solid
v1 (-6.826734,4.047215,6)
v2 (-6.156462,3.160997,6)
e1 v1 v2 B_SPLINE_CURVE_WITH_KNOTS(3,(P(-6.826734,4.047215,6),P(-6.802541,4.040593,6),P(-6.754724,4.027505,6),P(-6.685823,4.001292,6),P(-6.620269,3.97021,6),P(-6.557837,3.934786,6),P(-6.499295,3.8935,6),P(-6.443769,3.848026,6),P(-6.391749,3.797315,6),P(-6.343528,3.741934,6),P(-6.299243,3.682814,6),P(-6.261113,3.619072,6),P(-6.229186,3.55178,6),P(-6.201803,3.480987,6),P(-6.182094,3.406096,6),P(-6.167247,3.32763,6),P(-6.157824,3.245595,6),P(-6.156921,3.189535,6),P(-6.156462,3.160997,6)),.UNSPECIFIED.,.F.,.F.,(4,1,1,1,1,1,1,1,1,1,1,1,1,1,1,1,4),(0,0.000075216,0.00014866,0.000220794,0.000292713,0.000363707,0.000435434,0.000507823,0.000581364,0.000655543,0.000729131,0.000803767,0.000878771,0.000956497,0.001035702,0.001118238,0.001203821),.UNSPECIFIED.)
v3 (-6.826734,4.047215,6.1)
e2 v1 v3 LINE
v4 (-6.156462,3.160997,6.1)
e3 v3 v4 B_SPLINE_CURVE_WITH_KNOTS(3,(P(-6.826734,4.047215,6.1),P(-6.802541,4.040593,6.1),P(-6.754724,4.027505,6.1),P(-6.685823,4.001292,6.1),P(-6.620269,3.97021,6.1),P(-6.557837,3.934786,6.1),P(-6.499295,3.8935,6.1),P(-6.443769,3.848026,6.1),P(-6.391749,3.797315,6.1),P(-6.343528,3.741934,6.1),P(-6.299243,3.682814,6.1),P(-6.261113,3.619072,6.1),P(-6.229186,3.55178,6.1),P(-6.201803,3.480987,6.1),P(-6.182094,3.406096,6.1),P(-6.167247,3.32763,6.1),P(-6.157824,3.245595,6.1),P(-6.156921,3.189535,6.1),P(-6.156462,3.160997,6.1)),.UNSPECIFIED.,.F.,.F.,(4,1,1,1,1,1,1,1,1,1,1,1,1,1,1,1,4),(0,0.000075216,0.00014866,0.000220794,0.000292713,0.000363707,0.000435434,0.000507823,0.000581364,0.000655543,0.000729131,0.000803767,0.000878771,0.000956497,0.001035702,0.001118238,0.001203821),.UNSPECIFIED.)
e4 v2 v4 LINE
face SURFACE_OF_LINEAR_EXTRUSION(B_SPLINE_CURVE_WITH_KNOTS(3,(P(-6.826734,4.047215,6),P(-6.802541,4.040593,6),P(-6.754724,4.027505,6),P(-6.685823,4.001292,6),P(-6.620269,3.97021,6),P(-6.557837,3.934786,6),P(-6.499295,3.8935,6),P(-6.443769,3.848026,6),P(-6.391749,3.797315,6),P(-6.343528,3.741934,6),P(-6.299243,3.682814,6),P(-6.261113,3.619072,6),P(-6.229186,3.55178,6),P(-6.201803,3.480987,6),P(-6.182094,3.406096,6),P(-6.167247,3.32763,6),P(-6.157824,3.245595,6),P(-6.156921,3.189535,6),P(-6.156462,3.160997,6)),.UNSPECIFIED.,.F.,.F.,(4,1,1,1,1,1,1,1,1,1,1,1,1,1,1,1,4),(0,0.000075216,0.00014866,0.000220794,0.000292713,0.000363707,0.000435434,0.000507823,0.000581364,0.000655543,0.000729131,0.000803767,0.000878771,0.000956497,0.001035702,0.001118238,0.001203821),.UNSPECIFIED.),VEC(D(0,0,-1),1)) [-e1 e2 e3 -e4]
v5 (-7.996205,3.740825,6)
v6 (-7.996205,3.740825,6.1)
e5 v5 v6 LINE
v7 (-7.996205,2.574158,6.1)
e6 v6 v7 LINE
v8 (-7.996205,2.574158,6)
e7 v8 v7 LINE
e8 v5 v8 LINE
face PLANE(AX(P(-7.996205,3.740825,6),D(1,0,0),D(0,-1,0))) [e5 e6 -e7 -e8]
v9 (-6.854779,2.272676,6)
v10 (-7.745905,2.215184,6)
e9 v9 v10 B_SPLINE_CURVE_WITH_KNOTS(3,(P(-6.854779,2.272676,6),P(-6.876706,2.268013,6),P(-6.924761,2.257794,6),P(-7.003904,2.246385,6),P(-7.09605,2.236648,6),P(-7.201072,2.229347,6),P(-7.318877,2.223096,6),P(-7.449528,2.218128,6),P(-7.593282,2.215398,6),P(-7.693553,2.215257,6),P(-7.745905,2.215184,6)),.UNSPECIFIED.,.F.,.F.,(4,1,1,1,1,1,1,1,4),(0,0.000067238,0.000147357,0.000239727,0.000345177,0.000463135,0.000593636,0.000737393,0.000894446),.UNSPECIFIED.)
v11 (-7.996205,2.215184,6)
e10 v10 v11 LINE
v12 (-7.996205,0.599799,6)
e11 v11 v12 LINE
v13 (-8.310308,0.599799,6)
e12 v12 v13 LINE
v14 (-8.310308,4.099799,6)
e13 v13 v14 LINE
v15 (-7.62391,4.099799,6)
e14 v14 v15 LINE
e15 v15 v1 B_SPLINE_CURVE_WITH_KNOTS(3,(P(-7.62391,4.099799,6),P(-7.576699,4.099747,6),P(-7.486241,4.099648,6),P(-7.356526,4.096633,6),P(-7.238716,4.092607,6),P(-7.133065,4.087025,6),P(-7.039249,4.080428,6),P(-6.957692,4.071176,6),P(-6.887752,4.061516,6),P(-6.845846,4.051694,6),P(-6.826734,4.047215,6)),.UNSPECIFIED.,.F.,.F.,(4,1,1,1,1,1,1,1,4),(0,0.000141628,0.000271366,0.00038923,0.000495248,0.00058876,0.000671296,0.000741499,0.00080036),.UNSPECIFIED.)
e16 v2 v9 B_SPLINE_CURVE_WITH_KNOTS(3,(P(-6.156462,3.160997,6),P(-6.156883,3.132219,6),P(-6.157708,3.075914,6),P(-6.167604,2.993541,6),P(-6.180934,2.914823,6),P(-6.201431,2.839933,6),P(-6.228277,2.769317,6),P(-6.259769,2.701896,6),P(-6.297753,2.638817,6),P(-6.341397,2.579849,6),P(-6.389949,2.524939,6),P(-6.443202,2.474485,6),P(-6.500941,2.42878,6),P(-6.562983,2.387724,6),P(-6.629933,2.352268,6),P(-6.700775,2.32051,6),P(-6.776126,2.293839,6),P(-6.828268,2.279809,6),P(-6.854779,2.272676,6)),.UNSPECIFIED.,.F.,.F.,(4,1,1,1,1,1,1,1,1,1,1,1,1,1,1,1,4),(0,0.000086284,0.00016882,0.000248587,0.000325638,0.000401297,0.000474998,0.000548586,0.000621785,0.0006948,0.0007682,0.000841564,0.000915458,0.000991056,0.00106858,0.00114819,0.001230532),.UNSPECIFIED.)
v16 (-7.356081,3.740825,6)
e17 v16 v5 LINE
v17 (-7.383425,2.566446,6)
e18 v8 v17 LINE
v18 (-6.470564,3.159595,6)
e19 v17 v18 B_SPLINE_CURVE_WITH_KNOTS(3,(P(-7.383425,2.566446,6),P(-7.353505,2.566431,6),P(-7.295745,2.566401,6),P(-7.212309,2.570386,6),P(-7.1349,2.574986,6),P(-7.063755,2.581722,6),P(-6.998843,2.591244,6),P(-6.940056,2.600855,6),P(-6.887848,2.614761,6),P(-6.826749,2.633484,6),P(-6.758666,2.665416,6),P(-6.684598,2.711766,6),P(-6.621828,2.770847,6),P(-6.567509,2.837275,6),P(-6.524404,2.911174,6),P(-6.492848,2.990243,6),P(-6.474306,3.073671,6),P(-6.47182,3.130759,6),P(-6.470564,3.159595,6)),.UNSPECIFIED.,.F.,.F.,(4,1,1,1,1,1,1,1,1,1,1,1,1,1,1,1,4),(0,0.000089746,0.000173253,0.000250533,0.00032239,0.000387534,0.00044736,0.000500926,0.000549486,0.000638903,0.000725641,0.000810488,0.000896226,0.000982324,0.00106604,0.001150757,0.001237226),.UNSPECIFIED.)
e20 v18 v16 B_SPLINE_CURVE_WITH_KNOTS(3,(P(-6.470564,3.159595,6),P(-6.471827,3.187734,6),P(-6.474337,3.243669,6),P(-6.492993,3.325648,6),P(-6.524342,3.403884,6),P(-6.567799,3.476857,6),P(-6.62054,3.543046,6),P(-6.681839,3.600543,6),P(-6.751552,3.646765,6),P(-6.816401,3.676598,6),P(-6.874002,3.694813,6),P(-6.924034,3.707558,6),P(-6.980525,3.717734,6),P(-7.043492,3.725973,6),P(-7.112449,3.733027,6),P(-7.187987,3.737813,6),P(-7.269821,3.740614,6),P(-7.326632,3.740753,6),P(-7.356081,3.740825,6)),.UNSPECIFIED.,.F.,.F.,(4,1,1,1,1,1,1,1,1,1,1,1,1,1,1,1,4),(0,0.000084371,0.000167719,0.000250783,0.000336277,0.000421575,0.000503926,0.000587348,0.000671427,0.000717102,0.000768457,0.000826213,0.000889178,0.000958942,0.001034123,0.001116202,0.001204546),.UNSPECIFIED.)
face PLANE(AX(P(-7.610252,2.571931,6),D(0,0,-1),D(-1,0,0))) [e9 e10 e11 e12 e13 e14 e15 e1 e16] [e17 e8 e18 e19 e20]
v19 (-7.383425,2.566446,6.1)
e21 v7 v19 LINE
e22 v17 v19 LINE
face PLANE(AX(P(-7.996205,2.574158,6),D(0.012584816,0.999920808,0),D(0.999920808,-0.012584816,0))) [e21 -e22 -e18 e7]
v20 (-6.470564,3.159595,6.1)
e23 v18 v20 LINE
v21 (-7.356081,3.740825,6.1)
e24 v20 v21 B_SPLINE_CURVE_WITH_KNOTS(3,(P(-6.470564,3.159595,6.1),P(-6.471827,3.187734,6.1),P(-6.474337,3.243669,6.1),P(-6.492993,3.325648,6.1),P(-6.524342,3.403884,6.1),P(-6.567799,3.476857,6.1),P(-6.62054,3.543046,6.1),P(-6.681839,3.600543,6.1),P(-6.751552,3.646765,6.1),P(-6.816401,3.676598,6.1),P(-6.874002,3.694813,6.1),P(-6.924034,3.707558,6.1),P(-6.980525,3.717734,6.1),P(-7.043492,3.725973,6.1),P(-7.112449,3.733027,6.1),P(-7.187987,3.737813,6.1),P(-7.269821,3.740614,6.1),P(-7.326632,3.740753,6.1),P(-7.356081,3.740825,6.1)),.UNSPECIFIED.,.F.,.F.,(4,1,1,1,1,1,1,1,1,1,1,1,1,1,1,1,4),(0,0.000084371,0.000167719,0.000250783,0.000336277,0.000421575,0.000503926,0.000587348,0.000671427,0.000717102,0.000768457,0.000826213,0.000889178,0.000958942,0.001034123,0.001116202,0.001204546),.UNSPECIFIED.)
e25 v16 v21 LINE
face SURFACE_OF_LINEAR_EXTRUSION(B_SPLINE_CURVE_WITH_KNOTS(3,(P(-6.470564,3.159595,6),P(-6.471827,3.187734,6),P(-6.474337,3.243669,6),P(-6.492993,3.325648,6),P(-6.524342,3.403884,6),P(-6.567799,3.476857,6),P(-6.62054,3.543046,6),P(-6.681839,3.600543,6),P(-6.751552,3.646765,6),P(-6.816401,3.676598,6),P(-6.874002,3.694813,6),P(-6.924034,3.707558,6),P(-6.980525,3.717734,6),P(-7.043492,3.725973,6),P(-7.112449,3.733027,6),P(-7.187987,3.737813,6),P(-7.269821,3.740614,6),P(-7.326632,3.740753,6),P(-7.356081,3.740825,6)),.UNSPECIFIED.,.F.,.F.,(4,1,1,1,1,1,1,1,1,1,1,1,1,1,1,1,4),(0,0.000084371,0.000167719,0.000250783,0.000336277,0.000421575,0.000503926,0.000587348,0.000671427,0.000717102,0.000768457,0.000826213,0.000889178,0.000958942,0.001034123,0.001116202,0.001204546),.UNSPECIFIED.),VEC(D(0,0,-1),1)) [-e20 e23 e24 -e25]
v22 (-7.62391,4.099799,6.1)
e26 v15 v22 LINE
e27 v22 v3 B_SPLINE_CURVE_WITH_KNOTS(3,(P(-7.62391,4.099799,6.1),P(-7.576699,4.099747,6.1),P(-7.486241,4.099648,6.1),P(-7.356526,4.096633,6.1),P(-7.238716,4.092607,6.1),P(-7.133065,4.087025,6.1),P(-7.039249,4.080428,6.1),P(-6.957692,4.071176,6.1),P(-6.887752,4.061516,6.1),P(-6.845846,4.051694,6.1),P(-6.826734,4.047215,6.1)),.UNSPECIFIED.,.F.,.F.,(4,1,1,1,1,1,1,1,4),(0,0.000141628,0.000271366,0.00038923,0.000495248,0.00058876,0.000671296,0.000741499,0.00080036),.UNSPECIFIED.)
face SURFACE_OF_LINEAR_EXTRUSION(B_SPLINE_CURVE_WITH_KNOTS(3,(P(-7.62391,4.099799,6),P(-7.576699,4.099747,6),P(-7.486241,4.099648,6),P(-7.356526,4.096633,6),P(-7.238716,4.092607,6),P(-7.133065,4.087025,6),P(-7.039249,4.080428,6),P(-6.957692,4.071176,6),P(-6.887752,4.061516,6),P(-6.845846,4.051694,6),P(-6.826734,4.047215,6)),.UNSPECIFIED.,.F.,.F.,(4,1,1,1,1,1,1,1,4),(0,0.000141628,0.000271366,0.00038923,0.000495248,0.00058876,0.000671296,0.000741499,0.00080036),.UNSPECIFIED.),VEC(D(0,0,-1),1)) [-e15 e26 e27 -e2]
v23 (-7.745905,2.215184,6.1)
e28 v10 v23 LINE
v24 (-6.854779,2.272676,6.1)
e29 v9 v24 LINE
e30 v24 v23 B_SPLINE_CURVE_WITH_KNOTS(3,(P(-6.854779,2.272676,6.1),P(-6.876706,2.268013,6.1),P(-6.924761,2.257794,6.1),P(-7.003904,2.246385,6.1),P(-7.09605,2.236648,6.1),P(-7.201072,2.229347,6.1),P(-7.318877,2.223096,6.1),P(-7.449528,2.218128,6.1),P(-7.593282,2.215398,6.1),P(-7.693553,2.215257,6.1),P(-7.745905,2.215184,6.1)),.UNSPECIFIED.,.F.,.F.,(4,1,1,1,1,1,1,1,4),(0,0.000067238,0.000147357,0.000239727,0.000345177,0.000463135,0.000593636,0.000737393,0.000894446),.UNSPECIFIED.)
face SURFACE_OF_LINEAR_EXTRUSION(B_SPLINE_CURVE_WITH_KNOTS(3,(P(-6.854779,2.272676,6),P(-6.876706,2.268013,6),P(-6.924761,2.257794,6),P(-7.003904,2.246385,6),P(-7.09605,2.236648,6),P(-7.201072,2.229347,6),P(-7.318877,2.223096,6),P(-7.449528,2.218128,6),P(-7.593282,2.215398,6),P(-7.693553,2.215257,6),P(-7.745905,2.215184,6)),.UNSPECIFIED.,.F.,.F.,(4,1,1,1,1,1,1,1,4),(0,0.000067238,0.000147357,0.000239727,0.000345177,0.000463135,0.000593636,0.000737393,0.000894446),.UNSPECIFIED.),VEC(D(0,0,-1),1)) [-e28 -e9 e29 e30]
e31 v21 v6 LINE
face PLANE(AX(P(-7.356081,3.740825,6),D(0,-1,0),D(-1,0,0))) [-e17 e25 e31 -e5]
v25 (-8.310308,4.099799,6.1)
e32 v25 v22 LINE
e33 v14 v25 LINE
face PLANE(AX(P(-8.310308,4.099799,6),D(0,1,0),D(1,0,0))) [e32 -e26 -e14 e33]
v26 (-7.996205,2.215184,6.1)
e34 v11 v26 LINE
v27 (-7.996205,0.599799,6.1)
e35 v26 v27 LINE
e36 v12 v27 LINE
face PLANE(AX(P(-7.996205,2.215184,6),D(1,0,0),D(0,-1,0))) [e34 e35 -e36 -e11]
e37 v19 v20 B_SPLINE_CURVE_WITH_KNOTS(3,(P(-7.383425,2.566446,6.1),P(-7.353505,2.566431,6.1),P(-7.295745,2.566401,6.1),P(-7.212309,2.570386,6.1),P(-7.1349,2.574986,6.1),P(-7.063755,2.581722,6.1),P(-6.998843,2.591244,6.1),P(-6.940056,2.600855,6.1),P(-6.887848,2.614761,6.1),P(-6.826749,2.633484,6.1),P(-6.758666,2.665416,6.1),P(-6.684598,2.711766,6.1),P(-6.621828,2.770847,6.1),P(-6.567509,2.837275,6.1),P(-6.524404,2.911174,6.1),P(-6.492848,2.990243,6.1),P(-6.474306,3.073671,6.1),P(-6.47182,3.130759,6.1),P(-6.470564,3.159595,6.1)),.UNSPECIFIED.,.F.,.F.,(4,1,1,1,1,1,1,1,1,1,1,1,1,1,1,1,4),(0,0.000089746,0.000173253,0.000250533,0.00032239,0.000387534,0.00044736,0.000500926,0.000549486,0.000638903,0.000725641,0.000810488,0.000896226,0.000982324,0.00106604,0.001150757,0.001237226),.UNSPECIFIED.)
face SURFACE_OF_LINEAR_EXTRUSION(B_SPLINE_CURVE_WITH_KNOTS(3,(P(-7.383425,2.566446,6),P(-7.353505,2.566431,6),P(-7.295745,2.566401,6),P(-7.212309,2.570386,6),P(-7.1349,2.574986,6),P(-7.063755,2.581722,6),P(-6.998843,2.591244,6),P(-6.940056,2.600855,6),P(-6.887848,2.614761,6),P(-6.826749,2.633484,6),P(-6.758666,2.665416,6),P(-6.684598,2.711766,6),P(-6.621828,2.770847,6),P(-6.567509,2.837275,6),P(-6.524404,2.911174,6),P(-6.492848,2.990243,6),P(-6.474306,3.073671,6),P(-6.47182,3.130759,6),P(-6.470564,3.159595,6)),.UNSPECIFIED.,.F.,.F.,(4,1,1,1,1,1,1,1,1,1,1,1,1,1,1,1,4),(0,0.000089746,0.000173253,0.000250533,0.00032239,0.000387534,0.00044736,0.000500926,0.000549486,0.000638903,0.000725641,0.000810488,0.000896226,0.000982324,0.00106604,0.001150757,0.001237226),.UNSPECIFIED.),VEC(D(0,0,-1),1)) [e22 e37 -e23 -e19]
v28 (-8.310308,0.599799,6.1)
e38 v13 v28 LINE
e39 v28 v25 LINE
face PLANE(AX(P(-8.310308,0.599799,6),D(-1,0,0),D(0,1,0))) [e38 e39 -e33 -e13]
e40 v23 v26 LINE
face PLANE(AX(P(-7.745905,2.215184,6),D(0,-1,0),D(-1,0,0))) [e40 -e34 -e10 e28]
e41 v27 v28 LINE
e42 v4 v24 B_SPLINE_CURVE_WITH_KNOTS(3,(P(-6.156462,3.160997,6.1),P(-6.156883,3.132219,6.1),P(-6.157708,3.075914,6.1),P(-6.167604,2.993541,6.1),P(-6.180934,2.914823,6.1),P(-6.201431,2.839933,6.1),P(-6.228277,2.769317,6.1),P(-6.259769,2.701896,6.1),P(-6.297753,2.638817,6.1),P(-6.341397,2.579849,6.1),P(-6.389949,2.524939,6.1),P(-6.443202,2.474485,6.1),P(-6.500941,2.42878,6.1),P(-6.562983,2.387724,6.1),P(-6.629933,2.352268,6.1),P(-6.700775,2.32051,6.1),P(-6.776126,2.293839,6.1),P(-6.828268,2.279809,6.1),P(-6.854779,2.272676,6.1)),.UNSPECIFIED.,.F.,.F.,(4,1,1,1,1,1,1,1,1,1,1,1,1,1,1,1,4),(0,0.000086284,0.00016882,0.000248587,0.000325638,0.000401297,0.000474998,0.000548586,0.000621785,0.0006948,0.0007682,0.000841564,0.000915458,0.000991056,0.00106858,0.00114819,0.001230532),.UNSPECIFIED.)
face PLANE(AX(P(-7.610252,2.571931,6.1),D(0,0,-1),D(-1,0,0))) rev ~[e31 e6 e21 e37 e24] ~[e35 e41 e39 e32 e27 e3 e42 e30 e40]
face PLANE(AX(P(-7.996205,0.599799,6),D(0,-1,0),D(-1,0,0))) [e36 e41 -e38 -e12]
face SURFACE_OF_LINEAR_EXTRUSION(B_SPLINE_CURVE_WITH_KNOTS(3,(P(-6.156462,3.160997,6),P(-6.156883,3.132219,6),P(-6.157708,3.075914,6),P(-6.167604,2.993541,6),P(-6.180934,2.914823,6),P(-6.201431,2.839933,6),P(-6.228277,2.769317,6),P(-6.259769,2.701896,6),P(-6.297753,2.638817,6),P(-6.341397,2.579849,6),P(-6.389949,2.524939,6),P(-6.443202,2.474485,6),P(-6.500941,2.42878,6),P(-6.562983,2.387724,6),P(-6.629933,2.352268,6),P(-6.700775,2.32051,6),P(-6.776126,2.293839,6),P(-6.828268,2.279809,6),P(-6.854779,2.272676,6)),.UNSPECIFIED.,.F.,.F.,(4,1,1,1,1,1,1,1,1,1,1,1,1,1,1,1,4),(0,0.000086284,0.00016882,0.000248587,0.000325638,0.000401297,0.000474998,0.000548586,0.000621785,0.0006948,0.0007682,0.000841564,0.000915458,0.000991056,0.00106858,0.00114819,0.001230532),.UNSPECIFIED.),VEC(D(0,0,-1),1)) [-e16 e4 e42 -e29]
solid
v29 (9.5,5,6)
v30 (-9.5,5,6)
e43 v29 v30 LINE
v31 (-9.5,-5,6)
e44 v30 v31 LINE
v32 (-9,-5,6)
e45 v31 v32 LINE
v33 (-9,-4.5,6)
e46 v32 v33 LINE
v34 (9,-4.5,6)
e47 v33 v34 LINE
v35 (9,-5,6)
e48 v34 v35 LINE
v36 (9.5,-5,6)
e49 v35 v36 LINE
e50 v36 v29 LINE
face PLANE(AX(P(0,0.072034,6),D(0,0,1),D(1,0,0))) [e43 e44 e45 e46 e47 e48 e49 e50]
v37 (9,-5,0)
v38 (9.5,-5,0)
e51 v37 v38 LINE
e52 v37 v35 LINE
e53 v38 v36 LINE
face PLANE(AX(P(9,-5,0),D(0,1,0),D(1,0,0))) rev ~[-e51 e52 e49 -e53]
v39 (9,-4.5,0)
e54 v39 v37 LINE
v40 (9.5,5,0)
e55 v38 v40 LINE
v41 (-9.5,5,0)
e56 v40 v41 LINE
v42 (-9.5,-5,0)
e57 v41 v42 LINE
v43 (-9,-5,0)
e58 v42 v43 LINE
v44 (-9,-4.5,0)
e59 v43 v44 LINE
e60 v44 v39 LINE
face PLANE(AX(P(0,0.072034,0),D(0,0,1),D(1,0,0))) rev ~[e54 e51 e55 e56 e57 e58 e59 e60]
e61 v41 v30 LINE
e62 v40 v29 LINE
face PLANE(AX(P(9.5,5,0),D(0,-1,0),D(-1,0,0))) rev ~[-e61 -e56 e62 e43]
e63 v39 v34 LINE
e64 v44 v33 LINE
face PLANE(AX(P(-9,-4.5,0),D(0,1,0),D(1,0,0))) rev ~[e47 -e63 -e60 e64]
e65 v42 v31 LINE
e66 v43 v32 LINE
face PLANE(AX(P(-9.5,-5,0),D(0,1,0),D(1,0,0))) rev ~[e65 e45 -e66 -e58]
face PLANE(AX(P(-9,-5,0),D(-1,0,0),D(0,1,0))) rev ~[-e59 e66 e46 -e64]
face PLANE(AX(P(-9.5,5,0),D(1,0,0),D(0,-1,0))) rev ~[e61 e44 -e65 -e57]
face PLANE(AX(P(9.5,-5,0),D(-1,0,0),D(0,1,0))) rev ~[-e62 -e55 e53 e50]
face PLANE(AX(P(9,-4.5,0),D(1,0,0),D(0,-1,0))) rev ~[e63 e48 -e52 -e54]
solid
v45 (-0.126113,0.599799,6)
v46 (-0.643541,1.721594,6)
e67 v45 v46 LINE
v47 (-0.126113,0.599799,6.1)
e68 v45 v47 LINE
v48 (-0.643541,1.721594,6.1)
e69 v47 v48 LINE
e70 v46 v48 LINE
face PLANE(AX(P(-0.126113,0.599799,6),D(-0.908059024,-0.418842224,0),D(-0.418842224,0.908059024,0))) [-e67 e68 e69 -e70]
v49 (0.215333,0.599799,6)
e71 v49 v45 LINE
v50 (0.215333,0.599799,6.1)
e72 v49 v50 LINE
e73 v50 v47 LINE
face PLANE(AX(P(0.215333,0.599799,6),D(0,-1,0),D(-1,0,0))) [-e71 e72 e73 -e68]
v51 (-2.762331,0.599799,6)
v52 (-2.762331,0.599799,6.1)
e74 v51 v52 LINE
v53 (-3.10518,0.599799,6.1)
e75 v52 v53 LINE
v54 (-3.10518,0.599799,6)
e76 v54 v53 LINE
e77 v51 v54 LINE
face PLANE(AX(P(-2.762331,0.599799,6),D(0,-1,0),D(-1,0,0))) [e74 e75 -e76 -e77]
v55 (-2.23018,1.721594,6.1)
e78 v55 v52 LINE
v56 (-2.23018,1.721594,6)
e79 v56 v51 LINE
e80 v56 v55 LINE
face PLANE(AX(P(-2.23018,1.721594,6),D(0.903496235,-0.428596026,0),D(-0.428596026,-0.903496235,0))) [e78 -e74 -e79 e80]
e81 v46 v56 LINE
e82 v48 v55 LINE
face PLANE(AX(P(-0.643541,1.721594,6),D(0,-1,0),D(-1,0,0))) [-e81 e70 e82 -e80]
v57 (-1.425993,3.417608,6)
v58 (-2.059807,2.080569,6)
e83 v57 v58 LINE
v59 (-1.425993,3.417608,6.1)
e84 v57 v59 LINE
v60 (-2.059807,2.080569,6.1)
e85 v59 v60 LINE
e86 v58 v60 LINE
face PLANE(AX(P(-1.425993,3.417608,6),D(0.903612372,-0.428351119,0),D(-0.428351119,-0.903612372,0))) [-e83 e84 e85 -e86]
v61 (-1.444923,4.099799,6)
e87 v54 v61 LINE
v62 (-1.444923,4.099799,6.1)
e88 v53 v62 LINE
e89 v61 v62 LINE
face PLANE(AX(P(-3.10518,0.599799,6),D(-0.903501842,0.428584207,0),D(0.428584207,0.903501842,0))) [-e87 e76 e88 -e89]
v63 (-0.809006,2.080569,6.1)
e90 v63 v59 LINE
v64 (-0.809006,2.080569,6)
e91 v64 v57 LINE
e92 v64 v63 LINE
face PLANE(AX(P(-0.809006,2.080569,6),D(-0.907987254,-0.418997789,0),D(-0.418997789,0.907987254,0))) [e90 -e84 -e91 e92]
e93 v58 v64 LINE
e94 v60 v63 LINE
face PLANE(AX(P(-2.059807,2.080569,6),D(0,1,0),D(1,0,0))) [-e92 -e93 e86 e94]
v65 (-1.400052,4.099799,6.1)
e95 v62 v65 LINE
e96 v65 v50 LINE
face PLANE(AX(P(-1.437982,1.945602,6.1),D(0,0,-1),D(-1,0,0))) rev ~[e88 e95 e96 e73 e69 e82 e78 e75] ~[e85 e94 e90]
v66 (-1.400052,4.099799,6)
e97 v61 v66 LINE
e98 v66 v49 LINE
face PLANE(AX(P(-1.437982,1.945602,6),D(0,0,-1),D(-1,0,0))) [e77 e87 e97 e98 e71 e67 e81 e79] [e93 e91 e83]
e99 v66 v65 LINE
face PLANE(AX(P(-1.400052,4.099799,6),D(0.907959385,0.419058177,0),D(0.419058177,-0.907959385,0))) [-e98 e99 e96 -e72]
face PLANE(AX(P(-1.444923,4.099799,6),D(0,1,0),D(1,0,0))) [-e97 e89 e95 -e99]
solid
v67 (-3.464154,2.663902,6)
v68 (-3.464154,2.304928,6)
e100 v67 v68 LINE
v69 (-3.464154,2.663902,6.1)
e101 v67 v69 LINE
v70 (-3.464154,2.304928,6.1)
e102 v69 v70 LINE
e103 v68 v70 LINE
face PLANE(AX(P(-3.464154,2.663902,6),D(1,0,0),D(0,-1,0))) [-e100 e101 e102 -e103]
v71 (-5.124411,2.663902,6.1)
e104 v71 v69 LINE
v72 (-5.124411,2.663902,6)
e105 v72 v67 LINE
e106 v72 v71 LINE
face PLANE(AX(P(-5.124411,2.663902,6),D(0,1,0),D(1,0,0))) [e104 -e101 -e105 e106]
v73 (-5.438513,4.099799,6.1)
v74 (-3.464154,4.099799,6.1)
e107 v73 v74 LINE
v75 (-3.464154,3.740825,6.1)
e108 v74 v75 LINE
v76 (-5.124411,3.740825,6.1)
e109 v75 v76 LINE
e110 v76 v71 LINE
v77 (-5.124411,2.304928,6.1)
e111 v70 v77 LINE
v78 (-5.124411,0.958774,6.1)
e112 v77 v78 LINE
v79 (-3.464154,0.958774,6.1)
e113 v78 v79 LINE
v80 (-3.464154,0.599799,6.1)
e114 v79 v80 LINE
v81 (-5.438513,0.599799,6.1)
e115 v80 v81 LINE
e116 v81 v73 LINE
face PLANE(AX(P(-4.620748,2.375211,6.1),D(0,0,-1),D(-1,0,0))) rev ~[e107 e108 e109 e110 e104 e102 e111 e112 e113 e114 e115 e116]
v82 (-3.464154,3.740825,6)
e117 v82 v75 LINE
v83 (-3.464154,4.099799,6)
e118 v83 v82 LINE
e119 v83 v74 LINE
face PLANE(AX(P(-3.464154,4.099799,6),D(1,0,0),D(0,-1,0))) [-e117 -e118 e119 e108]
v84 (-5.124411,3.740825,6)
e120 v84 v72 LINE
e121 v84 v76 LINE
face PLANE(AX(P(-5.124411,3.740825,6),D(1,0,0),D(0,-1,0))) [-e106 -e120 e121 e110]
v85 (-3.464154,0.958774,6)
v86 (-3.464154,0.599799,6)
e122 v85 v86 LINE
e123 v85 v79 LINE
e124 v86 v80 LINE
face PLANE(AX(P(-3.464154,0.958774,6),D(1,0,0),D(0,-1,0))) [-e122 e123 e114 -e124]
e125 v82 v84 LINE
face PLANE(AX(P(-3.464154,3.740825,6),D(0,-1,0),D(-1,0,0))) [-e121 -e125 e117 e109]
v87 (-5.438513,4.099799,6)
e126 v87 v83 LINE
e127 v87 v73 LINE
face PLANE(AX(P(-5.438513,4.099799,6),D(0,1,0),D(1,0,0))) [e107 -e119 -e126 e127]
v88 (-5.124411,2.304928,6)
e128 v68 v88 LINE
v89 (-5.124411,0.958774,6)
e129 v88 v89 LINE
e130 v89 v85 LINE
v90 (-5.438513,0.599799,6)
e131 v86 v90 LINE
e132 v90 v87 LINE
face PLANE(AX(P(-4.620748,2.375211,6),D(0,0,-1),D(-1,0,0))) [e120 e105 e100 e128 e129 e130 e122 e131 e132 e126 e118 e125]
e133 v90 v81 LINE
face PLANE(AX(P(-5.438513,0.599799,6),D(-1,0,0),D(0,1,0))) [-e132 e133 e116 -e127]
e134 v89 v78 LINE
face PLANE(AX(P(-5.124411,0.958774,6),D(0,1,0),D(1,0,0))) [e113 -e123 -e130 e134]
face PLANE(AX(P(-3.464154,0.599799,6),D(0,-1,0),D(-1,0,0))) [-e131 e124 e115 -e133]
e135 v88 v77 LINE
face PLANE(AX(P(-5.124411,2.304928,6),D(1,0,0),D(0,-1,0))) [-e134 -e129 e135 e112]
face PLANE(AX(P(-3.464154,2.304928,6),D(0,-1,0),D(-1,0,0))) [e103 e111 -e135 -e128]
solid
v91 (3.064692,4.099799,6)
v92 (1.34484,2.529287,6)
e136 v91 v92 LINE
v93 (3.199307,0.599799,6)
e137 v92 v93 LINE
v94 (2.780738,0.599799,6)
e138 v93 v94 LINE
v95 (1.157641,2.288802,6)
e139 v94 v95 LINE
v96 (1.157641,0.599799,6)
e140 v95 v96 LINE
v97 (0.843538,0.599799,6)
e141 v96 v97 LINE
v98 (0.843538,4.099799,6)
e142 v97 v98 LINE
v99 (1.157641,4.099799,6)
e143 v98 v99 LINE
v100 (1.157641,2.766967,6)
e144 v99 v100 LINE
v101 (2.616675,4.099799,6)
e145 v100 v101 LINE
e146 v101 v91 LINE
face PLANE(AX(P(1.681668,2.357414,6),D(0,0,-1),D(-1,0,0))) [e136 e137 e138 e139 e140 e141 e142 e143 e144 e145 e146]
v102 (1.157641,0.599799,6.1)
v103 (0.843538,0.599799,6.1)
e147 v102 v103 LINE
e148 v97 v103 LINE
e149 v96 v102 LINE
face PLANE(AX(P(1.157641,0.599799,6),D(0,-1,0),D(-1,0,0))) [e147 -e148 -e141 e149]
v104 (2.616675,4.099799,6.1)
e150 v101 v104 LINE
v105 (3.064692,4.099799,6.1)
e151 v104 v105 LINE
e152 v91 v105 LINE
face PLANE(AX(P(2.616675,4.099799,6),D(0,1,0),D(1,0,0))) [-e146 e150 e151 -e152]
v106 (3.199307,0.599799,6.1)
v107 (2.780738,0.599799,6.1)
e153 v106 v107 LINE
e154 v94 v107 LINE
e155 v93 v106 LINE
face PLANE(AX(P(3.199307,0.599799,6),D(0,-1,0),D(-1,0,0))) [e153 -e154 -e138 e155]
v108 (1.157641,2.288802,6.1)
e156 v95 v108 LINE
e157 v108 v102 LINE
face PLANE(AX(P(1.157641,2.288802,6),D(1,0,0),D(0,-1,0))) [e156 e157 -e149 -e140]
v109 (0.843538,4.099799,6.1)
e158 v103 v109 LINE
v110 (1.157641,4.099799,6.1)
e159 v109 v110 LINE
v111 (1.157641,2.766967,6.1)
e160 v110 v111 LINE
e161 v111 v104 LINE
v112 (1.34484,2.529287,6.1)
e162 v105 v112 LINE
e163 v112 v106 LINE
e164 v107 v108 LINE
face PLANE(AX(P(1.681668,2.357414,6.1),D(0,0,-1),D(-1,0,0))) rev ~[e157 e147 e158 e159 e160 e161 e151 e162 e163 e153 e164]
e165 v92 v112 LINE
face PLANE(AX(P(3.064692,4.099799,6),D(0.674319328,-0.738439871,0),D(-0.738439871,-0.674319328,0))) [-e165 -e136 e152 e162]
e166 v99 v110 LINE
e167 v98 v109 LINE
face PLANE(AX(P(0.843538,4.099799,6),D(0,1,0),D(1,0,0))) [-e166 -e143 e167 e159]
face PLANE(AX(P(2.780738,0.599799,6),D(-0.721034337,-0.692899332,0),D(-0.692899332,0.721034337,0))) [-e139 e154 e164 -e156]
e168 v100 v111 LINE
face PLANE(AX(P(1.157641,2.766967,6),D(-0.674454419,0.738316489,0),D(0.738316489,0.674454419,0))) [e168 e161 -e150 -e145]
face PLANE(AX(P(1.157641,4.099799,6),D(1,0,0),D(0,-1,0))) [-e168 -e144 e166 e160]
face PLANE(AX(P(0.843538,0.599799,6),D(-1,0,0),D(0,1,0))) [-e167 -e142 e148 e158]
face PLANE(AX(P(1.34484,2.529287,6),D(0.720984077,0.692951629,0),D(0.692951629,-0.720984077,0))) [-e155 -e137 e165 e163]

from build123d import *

# Parameters (mm, degrees)
EXTRUDE_1_DEPTH   = 6
EXTRUDE_2_DEPTH   = 0.1
EXTRUDE_2_2_DEPTH = 0.1
EXTRUDE_2_3_DEPTH = 0.1
EXTRUDE_2_4_DEPTH = 0.1


with BuildPart() as part:
    # Эскиз1 → Бобышка-Вытянуть1 (new body)
    with BuildSketch(Plane.XY):
        Polygon((-9, -5), (-9, -4.5), (9, -4.5), (9, -5), (9.5, -5), (9.5, 5), (-9.5, 5), (-9.5, -5), align=None)
    extrude(amount=EXTRUDE_1_DEPTH)


with BuildPart() as body_2:
    # Эскиз2 → Бобышка-Вытянуть2 (new body)
    with BuildSketch(Plane.XY.offset(6)):
        with BuildLine():
            Line((-8.310307946, 4.099799348), (-7.623909709, 4.099799348))
            add(Edge.make_bspline(
                [(-7.623909709, 4.099799348), (-7.576698803, 4.099747451), (-7.48624061, 4.099648016), (-7.356525554, 4.09663327), (-7.238715823, 4.092606578), (-7.133065442, 4.087024685), (-7.039249344, 4.080428095), (-6.957692044, 4.071176055), (-6.887752488, 4.06151576), (-6.845846038, 4.051694353), (-6.826734228, 4.047215213)],
                knots=[0, 0, 0, 0, 0.000141628, 0.000271366, 0.00038923, 0.000495248, 0.00058876, 0.000671296, 0.000741499, 0.00080036, 0.00080036, 0.00080036, 0.00080036], degree=3))
            add(Edge.make_bspline(
                [(-6.826734228, 4.047215213), (-6.802540695, 4.040593263), (-6.754723717, 4.027505402), (-6.685822674, 4.001291678), (-6.620268829, 3.970209513), (-6.55783727, 3.934785573), (-6.499295187, 3.893500009), (-6.443769146, 3.848026391), (-6.391749166, 3.797314823), (-6.343527774, 3.741934083), (-6.299242976, 3.682813873), (-6.261113294, 3.619071643), (-6.229186067, 3.55178034), (-6.201802795, 3.480986768), (-6.182094341, 3.406096445), (-6.167247441, 3.327629732), (-6.157823813, 3.245595042), (-6.156921252, 3.189535175), (-6.156461792, 3.160997264)],
                knots=[0, 0, 0, 0, 7.5216e-05, 0.00014866, 0.000220794, 0.000292713, 0.000363707, 0.000435434, 0.000507823, 0.000581364, 0.000655543, 0.000729131, 0.000803767, 0.000878771, 0.000956497, 0.001035702, 0.001118238, 0.001203821, 0.001203821, 0.001203821, 0.001203821], degree=3))
            add(Edge.make_bspline(
                [(-6.156461792, 3.160997264), (-6.156883217, 3.132219488), (-6.157707763, 3.075913824), (-6.167604048, 2.993541035), (-6.18093424, 2.914822645), (-6.201431292, 2.839933195), (-6.228276965, 2.769317424), (-6.259769018, 2.701896192), (-6.297752549, 2.63881652), (-6.341397378, 2.579849403), (-6.389948973, 2.524939491), (-6.443201911, 2.474484696), (-6.500941203, 2.428780358), (-6.562983352, 2.387724014), (-6.6299332, 2.352267735), (-6.700775354, 2.32051043), (-6.77612557, 2.293839369), (-6.828268084, 2.279809308), (-6.8547791, 2.27267595)],
                knots=[0, 0, 0, 0, 8.6284e-05, 0.00016882, 0.000248587, 0.000325638, 0.000401297, 0.000474998, 0.000548586, 0.000621785, 0.0006948, 0.0007682, 0.000841564, 0.000915458, 0.000991056, 0.00106858, 0.00114819, 0.001230532, 0.001230532, 0.001230532, 0.001230532], degree=3))
            add(Edge.make_bspline(
                [(-6.8547791, 2.27267595), (-6.876706434, 2.268012969), (-6.924761461, 2.257793775), (-7.003904184, 2.246385318), (-7.09604957, 2.236647718), (-7.201071849, 2.22934658), (-7.318876754, 2.223096211), (-7.449528012, 2.218128118), (-7.593282089, 2.215398264), (-7.693553333, 2.215257471), (-7.745904901, 2.215183963)],
                knots=[0, 0, 0, 0, 6.7238e-05, 0.000147357, 0.000239727, 0.000345177, 0.000463135, 0.000593636, 0.000737393, 0.000894446, 0.000894446, 0.000894446, 0.000894446], degree=3))
            Line((-7.745904901, 2.215183963), (-7.996205382, 2.215183963))
            Line((-7.996205382, 2.215183963), (-7.996205382, 0.599799348))
            Line((-7.996205382, 0.599799348), (-8.310307946, 0.599799348))
            Line((-8.310307946, 0.599799348), (-8.310307946, 4.099799348))
        make_face()
        with BuildLine():
            Line((-7.996205382, 3.740824989), (-7.996205382, 2.574158322))
            Line((-7.996205382, 2.574158322), (-7.383424933, 2.566445982))
            add(Edge.make_bspline(
                [(-7.383424933, 2.566445982), (-7.353505008, 2.566430519), (-7.295745208, 2.566400667), (-7.212308984, 2.57038589), (-7.134899697, 2.574986423), (-7.063755122, 2.581722346), (-6.998843187, 2.591243604), (-6.940055658, 2.600855342), (-6.887848376, 2.614760704), (-6.826749174, 2.633483773), (-6.758665826, 2.665416389), (-6.684598278, 2.711766279), (-6.621827691, 2.770846987), (-6.567509395, 2.837274819), (-6.524403517, 2.911173948), (-6.492847524, 2.990242885), (-6.474306367, 3.073670734), (-6.471820173, 3.130758873), (-6.470564357, 3.159595021)],
                knots=[0, 0, 0, 0, 8.9746e-05, 0.000173253, 0.000250533, 0.00032239, 0.000387534, 0.00044736, 0.000500926, 0.000549486, 0.000638903, 0.000725641, 0.000810488, 0.000896226, 0.000982324, 0.00106604, 0.001150757, 0.001237226, 0.001237226, 0.001237226, 0.001237226], degree=3))
            add(Edge.make_bspline(
                [(-6.470564357, 3.159595021), (-6.471827003, 3.187733534), (-6.474336988, 3.243669416), (-6.492992851, 3.325648177), (-6.524342165, 3.403883881), (-6.56779876, 3.476856967), (-6.620539889, 3.543045771), (-6.681839233, 3.600542898), (-6.751552494, 3.6467646), (-6.816400725, 3.676597882), (-6.874001911, 3.694813158), (-6.924033871, 3.707557998), (-6.980524545, 3.717733604), (-7.043492325, 3.725973107), (-7.112449159, 3.733026568), (-7.187987474, 3.737812546), (-7.269821117, 3.740614002), (-7.326631688, 3.740752957), (-7.356081183, 3.740824989)],
                knots=[0, 0, 0, 0, 8.4371e-05, 0.000167719, 0.000250783, 0.000336277, 0.000421575, 0.000503926, 0.000587348, 0.000671427, 0.000717102, 0.000768457, 0.000826213, 0.000889178, 0.000958942, 0.001034123, 0.001116202, 0.001204546, 0.001204546, 0.001204546, 0.001204546], degree=3))
            Line((-7.356081183, 3.740824989), (-7.996205382, 3.740824989))
        make_face(mode=Mode.SUBTRACT)
    extrude(amount=EXTRUDE_2_DEPTH)


with BuildPart() as body_3:
    # Эскиз2 → Extrude 2 2 (new body)
    with BuildSketch(Plane.XY.offset(6)):
        Polygon((-5.438513074, 4.099799348), (-3.4641541, 4.099799348), (-3.4641541, 3.740824989), (-5.12441051, 3.740824989), (-5.12441051, 2.663901912), (-3.4641541, 2.663901912), (-3.4641541, 2.304927553), (-5.12441051, 2.304927553), (-5.12441051, 0.958773707), (-3.4641541, 0.958773707), (-3.4641541, 0.599799348), (-5.438513074, 0.599799348), align=None)
    extrude(amount=EXTRUDE_2_2_DEPTH)


with BuildPart() as body_4:
    # Эскиз2 → Extrude 2 3 (new body)
    with BuildSketch(Plane.XY.offset(6)):
        Polygon((-1.400051536, 4.099799348), (0.215333079, 0.599799348), (-0.126113235, 0.599799348), (-0.643541119, 1.72159422), (-2.230179741, 1.72159422), (-2.762331183, 0.599799348), (-3.105179741, 0.599799348), (-1.444923331, 4.099799348), align=None)
        Polygon((-1.425993042, 3.417607841), (-2.059807145, 2.080568578), (-0.809005863, 2.080568578), align=None, mode=Mode.SUBTRACT)
    extrude(amount=EXTRUDE_2_3_DEPTH)


with BuildPart() as body_5:
    # Эскиз2 → Extrude 2 4 (new body)
    with BuildSketch(Plane.XY.offset(6)):
        Polygon((0.843538208, 4.099799348), (1.157640772, 4.099799348), (1.157640772, 2.766966816), (2.616675227, 4.099799348), (3.064692054, 4.099799348), (1.344840291, 2.529286527), (3.199307438, 0.599799348), (2.780737727, 0.599799348), (1.157640772, 2.288801752), (1.157640772, 0.599799348), (0.843538208, 0.599799348), align=None)
    extrude(amount=EXTRUDE_2_4_DEPTH)


solid = Compound([part.part, body_2.part, body_3.part, body_4.part, body_5.part])
